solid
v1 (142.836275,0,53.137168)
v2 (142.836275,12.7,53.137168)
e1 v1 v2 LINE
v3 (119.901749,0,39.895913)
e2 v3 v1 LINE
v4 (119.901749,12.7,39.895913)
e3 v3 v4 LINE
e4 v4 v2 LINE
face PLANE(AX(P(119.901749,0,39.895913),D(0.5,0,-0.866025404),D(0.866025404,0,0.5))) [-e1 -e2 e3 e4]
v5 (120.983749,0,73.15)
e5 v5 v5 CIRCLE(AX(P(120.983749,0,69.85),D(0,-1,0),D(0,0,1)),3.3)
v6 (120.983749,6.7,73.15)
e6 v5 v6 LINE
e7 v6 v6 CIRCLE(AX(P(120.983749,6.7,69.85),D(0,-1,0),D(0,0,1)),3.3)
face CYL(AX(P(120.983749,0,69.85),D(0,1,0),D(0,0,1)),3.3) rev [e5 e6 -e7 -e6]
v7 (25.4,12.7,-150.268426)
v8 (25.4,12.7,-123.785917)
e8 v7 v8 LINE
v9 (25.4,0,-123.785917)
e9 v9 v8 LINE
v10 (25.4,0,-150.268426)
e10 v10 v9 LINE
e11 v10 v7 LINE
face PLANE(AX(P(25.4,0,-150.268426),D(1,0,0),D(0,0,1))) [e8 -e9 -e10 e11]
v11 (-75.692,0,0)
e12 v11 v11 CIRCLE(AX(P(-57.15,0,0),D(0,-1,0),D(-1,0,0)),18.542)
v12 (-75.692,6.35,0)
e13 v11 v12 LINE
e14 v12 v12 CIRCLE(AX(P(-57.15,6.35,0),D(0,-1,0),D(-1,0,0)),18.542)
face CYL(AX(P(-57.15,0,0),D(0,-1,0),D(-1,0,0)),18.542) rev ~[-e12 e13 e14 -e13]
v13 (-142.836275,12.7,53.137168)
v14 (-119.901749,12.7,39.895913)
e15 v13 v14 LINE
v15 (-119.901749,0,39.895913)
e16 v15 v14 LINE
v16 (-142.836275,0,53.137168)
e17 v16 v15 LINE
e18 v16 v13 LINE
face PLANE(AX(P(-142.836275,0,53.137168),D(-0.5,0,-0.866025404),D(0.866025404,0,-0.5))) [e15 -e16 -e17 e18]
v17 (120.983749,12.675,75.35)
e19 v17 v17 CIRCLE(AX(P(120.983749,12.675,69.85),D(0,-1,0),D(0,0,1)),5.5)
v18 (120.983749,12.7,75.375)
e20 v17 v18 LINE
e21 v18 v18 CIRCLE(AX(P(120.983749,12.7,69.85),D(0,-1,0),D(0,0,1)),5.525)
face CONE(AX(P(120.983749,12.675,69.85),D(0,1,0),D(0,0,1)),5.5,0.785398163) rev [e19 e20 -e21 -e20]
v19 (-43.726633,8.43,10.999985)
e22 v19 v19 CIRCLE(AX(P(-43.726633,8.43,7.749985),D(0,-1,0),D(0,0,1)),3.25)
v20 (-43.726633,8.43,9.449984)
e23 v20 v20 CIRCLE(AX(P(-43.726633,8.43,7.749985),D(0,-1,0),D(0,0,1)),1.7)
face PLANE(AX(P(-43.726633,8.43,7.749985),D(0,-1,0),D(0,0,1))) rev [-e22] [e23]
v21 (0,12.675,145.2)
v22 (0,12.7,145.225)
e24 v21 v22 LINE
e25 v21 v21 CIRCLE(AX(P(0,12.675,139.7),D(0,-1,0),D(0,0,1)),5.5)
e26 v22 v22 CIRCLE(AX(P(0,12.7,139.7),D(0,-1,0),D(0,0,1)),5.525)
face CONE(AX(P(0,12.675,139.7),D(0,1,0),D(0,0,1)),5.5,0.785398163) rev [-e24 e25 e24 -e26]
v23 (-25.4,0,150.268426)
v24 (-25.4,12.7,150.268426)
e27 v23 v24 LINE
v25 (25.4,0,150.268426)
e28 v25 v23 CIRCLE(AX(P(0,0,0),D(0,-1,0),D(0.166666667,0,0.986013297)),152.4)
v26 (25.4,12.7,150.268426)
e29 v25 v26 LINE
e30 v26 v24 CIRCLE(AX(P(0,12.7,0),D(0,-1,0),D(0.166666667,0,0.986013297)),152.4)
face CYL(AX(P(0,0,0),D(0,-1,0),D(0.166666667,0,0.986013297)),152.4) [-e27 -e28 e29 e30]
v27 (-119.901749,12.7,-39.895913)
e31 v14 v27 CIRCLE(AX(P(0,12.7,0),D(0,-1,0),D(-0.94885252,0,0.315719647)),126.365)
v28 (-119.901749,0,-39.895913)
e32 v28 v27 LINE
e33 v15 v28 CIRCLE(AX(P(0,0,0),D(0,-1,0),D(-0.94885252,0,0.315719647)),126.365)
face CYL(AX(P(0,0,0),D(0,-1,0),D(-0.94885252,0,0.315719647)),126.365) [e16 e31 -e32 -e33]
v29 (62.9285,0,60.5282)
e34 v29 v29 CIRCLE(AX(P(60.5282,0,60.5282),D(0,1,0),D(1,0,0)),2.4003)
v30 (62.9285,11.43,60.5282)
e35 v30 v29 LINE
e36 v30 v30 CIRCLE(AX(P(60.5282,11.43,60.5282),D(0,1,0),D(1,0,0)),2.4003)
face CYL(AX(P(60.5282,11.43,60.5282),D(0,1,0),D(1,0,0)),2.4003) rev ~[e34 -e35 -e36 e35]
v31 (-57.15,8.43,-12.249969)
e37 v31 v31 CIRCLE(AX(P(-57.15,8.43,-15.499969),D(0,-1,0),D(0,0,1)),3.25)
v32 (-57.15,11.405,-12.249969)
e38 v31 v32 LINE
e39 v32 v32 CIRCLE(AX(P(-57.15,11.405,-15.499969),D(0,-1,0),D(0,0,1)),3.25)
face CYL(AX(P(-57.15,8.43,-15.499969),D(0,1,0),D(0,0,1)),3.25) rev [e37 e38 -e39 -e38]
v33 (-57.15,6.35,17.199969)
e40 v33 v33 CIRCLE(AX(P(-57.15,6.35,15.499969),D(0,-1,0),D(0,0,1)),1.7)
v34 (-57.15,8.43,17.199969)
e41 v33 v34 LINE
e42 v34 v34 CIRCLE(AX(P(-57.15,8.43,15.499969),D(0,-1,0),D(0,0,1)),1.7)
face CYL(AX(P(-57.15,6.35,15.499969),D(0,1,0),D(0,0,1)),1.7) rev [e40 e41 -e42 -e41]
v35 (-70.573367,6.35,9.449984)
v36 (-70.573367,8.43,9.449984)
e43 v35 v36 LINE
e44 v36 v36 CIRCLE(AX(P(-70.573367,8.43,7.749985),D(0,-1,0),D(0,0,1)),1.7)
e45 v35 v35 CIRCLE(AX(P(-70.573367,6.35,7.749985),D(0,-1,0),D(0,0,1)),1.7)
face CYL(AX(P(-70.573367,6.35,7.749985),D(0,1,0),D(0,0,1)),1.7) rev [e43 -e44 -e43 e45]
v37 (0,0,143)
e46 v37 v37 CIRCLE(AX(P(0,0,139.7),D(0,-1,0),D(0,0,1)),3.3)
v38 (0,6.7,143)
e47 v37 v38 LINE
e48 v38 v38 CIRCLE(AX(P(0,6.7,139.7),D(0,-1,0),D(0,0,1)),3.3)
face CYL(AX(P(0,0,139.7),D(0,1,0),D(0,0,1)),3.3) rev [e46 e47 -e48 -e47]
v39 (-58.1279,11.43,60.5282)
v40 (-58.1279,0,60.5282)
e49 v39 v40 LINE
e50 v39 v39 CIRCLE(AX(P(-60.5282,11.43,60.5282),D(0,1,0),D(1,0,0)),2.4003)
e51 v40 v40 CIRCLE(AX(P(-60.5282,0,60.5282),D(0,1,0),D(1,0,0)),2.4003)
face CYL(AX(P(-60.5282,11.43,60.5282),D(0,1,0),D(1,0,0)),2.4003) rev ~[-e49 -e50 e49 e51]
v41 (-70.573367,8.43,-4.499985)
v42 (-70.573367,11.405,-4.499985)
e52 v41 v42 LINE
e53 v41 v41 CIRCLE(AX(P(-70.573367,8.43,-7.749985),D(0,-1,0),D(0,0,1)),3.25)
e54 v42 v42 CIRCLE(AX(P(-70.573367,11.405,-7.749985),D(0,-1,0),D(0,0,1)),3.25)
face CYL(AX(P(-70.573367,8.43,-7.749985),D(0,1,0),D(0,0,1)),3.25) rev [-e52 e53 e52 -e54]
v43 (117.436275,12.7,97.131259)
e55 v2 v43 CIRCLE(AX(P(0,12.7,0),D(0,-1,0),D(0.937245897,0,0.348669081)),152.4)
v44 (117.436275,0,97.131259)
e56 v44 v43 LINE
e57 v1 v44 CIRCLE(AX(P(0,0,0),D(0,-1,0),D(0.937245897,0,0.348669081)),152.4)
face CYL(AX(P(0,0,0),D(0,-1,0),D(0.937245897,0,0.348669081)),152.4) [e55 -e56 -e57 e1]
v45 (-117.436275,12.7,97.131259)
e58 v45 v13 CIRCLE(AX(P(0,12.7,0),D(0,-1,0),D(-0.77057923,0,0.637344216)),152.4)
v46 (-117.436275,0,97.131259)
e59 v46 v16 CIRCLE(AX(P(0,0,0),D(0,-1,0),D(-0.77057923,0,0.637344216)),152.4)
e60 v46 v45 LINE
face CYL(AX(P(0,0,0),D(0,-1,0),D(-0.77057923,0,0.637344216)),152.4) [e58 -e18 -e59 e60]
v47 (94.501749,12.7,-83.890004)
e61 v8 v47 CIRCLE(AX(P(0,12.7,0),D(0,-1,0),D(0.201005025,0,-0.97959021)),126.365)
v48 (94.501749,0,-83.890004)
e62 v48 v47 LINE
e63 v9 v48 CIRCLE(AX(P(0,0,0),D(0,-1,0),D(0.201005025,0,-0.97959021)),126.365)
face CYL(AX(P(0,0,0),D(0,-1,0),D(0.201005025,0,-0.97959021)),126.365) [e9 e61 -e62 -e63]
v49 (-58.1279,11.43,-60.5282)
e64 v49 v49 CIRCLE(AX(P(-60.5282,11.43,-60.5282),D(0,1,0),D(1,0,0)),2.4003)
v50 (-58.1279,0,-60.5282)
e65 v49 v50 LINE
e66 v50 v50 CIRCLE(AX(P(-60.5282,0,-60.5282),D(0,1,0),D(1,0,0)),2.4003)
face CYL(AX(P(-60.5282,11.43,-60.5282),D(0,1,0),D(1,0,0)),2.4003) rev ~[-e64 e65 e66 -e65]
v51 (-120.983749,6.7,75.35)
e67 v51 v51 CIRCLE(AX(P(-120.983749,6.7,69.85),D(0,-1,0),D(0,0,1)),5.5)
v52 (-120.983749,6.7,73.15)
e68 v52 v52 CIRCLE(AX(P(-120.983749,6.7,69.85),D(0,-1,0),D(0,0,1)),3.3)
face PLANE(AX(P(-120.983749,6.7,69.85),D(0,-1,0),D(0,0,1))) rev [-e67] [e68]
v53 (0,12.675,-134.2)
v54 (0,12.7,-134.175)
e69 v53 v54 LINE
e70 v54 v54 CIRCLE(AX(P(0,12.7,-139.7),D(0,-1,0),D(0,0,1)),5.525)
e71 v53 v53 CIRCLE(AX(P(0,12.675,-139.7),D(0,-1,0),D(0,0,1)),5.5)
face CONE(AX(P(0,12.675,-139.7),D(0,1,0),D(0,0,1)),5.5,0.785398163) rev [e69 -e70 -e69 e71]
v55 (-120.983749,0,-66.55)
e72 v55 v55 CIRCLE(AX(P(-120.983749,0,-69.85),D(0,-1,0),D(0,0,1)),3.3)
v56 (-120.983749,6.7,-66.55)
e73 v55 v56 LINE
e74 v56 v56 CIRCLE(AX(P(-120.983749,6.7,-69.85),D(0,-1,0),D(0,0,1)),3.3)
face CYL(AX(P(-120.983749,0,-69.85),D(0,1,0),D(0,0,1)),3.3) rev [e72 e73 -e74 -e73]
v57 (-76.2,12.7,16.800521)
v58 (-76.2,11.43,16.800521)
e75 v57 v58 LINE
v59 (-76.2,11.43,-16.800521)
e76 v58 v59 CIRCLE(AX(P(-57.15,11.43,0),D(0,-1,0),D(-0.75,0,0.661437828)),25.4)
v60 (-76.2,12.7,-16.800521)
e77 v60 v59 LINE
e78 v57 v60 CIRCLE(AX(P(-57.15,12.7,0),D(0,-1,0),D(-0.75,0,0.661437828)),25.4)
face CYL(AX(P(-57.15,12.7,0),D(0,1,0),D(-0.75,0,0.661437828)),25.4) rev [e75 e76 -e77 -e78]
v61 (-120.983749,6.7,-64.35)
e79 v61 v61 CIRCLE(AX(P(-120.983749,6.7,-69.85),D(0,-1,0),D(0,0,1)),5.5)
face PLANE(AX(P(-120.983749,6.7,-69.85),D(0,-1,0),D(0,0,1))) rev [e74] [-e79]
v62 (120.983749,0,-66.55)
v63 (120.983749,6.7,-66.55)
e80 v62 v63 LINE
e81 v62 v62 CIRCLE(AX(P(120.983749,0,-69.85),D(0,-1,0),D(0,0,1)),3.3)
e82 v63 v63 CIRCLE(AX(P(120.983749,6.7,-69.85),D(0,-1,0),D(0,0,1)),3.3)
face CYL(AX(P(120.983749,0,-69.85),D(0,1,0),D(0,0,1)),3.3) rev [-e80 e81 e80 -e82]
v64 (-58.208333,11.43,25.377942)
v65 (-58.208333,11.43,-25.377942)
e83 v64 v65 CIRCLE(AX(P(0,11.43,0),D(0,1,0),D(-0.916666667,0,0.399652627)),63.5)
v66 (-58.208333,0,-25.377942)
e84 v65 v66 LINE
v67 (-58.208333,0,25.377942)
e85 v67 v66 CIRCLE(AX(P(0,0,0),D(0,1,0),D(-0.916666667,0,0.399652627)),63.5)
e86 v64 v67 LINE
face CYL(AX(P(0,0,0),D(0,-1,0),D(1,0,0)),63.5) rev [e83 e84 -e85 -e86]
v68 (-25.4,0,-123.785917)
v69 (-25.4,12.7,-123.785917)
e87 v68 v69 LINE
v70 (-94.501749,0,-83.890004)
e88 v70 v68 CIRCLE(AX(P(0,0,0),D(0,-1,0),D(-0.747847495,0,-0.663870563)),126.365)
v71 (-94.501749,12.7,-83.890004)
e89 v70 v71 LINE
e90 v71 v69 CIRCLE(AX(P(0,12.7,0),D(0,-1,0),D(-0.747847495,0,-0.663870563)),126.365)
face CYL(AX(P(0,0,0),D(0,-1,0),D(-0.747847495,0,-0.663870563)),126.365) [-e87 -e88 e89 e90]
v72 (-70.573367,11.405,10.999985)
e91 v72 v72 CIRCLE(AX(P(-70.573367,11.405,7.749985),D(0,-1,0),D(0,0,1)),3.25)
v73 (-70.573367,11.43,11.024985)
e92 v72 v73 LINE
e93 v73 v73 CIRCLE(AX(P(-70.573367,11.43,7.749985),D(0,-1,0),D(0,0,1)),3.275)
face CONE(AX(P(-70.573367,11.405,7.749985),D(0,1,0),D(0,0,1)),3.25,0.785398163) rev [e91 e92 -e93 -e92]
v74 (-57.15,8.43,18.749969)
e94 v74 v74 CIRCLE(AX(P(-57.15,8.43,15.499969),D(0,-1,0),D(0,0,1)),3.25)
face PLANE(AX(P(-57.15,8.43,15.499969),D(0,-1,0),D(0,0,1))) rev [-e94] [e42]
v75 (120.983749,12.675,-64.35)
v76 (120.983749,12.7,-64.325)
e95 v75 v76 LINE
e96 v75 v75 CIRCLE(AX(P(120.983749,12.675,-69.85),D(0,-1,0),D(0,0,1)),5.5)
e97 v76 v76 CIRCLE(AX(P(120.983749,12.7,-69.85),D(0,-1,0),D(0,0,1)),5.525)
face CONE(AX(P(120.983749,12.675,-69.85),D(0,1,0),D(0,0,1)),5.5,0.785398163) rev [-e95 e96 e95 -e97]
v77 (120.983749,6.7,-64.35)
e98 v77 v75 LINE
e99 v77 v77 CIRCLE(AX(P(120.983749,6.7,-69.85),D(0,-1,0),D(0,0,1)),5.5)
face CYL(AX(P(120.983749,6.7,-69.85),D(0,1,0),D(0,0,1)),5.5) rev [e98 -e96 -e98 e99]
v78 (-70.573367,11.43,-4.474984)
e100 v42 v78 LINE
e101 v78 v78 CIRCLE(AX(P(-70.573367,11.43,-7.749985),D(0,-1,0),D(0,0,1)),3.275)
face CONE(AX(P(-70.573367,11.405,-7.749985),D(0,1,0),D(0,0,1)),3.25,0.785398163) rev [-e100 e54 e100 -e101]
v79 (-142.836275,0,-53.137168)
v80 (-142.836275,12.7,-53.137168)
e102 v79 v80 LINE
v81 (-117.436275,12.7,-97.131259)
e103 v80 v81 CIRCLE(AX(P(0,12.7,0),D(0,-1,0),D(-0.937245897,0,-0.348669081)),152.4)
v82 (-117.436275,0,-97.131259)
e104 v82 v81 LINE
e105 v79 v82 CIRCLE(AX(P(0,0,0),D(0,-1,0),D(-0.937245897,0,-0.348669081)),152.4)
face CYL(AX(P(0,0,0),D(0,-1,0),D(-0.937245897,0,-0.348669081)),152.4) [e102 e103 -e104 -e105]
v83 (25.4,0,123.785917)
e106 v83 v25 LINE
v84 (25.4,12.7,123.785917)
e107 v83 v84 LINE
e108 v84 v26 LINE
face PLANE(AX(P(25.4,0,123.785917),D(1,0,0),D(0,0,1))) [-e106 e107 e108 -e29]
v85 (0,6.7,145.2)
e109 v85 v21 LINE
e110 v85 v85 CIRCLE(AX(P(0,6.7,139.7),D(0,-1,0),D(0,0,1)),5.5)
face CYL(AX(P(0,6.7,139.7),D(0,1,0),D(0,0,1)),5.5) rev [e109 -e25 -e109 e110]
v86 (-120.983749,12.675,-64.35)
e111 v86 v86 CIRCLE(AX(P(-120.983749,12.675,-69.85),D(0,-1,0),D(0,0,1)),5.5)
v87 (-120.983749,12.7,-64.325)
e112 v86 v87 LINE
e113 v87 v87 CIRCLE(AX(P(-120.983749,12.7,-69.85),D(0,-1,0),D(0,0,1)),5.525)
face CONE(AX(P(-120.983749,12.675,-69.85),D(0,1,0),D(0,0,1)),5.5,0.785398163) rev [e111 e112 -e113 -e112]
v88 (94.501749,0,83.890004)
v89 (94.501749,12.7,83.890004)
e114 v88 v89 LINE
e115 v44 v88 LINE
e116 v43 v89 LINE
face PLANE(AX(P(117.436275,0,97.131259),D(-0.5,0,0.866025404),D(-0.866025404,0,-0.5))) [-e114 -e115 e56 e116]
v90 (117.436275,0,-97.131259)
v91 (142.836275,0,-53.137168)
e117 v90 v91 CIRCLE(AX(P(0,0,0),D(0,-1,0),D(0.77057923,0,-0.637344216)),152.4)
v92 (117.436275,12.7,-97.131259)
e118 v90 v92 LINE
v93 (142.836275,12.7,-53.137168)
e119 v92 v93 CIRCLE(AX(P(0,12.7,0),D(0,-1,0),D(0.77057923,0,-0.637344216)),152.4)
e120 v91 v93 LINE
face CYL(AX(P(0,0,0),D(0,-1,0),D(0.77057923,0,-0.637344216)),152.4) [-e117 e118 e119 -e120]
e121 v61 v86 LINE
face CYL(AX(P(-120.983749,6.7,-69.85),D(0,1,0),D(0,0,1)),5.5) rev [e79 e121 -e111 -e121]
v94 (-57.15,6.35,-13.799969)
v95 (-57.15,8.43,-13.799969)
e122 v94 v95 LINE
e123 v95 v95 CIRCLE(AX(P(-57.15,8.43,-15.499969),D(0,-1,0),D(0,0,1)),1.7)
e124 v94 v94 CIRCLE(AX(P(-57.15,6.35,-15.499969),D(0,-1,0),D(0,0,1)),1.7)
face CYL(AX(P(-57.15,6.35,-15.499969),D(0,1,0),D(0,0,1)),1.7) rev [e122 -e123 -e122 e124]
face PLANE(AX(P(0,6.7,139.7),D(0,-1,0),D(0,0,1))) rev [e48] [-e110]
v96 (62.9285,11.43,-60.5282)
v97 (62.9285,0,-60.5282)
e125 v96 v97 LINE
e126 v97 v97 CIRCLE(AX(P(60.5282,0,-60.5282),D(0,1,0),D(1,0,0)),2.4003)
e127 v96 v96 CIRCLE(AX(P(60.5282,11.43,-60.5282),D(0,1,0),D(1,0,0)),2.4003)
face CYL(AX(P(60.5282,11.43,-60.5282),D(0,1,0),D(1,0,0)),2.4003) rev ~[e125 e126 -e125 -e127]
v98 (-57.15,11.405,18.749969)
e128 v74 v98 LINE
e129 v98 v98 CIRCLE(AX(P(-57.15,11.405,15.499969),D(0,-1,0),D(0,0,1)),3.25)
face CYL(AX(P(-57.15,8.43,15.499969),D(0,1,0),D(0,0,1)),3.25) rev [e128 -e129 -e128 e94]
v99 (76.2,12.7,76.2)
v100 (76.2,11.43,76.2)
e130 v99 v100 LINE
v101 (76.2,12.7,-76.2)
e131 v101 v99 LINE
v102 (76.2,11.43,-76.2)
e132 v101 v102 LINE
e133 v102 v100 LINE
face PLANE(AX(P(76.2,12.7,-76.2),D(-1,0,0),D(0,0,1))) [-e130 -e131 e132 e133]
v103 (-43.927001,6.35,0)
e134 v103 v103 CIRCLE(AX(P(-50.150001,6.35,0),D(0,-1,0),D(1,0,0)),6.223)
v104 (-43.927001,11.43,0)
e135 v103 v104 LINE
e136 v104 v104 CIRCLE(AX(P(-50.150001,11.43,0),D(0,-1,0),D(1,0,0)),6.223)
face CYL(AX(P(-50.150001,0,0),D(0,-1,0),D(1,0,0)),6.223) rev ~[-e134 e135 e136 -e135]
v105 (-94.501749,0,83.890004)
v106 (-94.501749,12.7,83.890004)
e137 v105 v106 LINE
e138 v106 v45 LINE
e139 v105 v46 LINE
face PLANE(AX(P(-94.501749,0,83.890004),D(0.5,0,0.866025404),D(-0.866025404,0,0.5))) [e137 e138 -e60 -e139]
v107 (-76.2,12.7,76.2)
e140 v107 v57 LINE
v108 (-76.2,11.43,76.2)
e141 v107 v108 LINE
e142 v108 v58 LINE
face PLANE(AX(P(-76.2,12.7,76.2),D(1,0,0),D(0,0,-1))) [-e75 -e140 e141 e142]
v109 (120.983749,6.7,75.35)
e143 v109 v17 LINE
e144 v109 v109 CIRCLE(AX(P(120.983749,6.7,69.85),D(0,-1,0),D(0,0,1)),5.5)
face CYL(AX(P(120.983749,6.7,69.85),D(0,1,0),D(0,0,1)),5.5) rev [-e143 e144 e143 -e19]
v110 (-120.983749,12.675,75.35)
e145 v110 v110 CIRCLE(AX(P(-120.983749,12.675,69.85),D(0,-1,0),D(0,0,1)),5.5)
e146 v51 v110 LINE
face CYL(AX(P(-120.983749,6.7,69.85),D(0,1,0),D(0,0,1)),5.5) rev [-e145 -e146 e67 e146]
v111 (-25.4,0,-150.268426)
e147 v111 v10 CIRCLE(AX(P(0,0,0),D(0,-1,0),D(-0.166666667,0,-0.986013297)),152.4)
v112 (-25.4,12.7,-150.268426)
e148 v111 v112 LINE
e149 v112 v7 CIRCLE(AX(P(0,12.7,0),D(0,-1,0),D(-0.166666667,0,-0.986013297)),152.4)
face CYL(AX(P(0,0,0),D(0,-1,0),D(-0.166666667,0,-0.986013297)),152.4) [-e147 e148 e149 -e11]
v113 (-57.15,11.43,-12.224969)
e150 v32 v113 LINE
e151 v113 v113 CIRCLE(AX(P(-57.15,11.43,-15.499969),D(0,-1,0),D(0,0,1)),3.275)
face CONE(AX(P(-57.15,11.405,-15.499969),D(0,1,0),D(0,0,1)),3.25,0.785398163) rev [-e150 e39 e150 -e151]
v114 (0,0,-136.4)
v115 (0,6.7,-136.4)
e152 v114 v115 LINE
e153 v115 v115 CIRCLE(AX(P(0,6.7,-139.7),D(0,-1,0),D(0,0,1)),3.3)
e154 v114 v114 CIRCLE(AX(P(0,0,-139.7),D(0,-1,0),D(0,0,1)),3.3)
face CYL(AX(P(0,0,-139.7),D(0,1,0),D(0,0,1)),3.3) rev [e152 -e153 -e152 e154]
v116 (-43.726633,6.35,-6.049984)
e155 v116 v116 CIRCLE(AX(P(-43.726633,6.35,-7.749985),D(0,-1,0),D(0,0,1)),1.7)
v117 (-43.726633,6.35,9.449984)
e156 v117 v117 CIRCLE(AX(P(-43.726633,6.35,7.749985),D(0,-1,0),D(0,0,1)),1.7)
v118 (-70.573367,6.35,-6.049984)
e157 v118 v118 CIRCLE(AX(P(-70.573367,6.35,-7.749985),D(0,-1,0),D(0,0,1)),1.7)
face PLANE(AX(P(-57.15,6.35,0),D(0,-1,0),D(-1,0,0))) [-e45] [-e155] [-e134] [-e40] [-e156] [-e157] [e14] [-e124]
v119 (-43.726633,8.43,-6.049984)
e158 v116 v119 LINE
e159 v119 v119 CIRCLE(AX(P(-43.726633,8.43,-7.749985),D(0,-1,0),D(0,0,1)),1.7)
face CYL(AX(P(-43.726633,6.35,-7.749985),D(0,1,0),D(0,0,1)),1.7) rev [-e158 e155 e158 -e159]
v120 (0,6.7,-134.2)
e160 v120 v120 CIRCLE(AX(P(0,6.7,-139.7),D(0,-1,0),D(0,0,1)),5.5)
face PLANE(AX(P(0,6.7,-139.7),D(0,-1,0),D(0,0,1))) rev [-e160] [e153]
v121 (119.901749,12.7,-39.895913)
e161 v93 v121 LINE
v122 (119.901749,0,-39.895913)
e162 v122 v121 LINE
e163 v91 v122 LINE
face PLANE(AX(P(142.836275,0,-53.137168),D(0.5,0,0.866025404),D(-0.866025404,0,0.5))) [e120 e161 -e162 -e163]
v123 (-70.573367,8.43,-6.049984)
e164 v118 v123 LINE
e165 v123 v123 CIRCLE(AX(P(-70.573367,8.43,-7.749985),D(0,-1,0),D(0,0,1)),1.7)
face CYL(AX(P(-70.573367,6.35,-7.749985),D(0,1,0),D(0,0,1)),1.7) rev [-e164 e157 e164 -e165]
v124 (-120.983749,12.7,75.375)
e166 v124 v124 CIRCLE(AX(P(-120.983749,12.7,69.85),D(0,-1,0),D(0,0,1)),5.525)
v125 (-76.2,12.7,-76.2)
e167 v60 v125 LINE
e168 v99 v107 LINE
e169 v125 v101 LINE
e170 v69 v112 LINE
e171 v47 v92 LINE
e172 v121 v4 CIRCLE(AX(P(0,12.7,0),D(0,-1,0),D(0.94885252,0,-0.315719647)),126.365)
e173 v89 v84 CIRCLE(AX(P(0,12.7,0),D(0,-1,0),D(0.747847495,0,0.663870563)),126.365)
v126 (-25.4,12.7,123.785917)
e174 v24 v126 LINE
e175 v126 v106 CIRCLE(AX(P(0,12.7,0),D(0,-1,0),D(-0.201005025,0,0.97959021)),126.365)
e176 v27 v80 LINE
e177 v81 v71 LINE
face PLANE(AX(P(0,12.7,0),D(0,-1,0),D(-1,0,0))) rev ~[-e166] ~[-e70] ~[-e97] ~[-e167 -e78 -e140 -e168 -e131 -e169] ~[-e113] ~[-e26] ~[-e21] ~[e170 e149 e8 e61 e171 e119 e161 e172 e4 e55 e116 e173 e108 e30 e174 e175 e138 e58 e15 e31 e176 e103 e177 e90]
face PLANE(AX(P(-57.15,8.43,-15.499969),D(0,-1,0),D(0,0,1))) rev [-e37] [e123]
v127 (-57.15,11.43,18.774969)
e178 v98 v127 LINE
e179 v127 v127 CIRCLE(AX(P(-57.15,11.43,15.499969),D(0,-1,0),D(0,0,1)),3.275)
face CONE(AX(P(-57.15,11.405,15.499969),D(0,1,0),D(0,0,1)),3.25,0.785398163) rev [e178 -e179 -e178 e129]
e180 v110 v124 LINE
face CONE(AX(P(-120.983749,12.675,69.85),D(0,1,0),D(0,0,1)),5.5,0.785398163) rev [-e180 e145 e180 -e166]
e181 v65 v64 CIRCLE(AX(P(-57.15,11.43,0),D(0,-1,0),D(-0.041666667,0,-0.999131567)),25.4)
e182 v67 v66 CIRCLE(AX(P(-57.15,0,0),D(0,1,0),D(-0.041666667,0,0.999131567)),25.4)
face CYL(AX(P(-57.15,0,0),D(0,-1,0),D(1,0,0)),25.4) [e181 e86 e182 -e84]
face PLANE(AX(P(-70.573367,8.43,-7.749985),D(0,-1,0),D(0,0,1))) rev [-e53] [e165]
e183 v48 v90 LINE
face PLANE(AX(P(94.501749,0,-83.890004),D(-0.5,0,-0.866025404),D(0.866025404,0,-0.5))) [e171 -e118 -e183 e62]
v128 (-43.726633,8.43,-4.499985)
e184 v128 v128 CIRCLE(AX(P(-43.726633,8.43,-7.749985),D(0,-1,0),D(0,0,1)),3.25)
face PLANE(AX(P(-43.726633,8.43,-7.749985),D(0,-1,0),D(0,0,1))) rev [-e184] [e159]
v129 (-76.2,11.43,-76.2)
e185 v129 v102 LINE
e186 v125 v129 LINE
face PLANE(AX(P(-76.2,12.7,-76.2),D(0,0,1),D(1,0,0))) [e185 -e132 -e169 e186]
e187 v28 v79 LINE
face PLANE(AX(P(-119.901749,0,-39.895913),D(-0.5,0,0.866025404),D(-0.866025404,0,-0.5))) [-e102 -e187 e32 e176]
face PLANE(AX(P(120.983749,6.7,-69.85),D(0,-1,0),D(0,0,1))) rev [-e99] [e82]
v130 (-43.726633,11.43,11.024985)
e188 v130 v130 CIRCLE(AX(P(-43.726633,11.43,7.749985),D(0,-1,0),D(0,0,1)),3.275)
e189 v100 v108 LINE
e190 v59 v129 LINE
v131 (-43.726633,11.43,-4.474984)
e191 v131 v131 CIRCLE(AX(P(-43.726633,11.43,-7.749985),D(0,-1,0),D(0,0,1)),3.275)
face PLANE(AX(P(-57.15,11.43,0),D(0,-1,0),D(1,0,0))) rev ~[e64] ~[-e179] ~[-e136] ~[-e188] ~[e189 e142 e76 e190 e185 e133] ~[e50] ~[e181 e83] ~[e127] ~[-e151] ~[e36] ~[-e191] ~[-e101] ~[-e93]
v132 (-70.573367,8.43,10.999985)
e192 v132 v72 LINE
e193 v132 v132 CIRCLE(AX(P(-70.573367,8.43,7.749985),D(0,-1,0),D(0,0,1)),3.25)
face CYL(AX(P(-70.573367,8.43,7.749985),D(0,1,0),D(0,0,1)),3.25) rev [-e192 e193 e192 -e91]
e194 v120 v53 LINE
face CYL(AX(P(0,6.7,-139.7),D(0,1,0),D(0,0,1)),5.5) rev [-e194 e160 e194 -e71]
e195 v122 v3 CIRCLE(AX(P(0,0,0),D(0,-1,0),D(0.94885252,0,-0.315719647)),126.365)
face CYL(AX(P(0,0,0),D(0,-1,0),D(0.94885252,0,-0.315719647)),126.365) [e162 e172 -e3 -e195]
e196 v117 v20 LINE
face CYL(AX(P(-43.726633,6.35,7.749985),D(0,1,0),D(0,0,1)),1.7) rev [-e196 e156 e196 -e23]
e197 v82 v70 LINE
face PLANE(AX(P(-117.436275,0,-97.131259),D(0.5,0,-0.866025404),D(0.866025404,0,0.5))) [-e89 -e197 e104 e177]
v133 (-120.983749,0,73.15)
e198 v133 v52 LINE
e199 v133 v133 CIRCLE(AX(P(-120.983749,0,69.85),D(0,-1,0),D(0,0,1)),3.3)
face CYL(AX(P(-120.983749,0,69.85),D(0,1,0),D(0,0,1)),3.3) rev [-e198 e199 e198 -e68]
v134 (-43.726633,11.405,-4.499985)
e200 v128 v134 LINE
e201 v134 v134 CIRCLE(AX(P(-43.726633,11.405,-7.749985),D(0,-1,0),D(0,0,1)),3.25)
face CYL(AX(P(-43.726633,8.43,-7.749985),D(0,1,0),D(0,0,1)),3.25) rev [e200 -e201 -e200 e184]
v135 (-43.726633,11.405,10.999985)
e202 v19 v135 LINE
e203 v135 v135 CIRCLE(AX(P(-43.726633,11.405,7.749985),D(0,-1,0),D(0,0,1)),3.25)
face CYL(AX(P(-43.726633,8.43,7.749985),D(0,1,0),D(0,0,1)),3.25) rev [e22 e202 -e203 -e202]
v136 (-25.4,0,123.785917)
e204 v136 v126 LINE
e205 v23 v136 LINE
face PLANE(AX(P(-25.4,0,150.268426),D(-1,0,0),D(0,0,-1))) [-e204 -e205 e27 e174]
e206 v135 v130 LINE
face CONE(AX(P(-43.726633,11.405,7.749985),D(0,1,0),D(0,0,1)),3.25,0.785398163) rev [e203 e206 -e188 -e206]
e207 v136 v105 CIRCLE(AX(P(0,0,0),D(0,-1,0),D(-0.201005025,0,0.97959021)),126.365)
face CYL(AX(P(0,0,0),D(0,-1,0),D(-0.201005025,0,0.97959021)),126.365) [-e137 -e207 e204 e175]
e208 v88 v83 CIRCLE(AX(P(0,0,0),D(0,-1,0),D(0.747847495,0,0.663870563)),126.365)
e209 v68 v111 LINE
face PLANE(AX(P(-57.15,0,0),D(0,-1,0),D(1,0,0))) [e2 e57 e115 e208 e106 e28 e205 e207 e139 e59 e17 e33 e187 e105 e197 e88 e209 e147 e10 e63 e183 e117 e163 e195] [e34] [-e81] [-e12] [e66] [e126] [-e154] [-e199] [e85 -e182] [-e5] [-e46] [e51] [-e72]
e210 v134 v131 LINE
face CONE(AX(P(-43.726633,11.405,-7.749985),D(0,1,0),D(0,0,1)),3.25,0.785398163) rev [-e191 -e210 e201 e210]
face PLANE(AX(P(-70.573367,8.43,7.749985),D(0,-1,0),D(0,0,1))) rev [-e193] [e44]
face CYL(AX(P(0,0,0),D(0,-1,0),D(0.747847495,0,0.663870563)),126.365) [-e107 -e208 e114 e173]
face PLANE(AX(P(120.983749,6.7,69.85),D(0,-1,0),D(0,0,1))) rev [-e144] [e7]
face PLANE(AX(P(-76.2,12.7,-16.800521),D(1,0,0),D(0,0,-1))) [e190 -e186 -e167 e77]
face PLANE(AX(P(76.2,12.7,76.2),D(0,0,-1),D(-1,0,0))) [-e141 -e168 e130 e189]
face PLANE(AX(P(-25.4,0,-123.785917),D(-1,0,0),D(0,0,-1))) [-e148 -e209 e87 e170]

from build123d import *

# Parameters (mm, degrees)
BOSS_EXTRUDE1_DEPTH           = 12.7
SKETCH2_R                     = 63.5
CUT_EXTRUDE2_DEPTH            = 12.7
CUT_EXTRUDE3_DEPTH            = 1.27
SKETCH4_R                     = 2.4003
CUT_EXTRUDE4_DEPTH            = 2.27
CUT_EXTRUDE4_DEPTH_BACK       = 12.43
CBORE_FOR_M6_SHCS2_AT_2_COUNT = 2
CBORE_FOR_M6_SHCS2_AT_2_PITCH = 139.7
CBORE_FOR_M6_SHCS2_AT_3_COUNT = 2
CBORE_FOR_M6_SHCS2_AT_3_PITCH = 139.7
CBORE_FOR_M6_SHCS2_AT_4_COUNT = 2
CBORE_FOR_M6_SHCS2_AT_4_PITCH = 139.7
CBORE_FOR_M6_SHCS2_AT_5_COUNT = 2
CBORE_FOR_M6_SHCS2_AT_5_PITCH = 139.7
CBORE_FOR_M6_SHCS2_AT_6_COUNT = 2
CBORE_FOR_M6_SHCS2_AT_6_PITCH = 139.7
CBORE_FOR_M6_SHCS2_AT_7_COUNT = 2
CBORE_FOR_M6_SHCS2_AT_7_PITCH = 139.7
SKETCH7_R                     = 25.4
BOSS_EXTRUDE2_DEPTH           = 11.43
SKETCH8_R                     = 18.542
CUT_EXTRUDE5_DEPTH            = 6.35
CBORE_FOR_M3_SHCS1_AT_2_COUNT = 2
CBORE_FOR_M3_SHCS1_AT_2_PITCH = 15.499969
CBORE_FOR_M3_SHCS1_AT_3_COUNT = 2
CBORE_FOR_M3_SHCS1_AT_3_PITCH = 26.846733824
CBORE_FOR_M3_SHCS1_AT_4_COUNT = 2
CBORE_FOR_M3_SHCS1_AT_4_PITCH = 30.999938
CBORE_FOR_M3_SHCS1_AT_5_COUNT = 2
CBORE_FOR_M3_SHCS1_AT_5_PITCH = 26.846733824
CBORE_FOR_M3_SHCS1_AT_6_COUNT = 2
CBORE_FOR_M3_SHCS1_AT_6_PITCH = 15.499969
SKETCH11_R                    = 6.223
CUT_EXTRUDE6_DEPTH            = 11.43


with BuildPart() as part:
    # Sketch1 → Boss-Extrude1 (new body)
    with BuildSketch(Plane(origin=(0, 0, 0), x_dir=(1, 0, 0), z_dir=(0, 1, 0))):
        with BuildLine():
            Line((-25.4, 123.785916909), (-25.4, 150.268426491))
            ThreePointArc((-25.4, 150.268426491), (0, 152.4), (25.4, 150.268426491))
            Line((25.4, 150.268426491), (25.4, 123.785916909))
            ThreePointArc((25.4, 123.785916909), (63.1825, 109.435300149), (94.501748674, 83.890003711))
            Line((94.501748674, 83.890003711), (117.436274728, 97.131258501))
            ThreePointArc((117.436274728, 97.131258501), (131.982271537, 76.2), (142.836274728, 53.137167989))
            Line((142.836274728, 53.137167989), (119.901748674, 39.895913198))
            ThreePointArc((119.901748674, 39.895913198), (126.365, 0), (119.901748674, -39.895913198))
            Line((119.901748674, -39.895913198), (142.836274728, -53.137167989))
            ThreePointArc((142.836274728, -53.137167989), (131.982271537, -76.2), (117.436274728, -97.131258501))
            Line((117.436274728, -97.131258501), (94.501748674, -83.890003711))
            ThreePointArc((94.501748674, -83.890003711), (63.1825, -109.435300149), (25.4, -123.785916909))
            Line((25.4, -123.785916909), (25.4, -150.268426491))
            ThreePointArc((25.4, -150.268426491), (0, -152.4), (-25.4, -150.268426491))
            Line((-25.4, -150.268426491), (-25.4, -123.785916909))
            ThreePointArc((-25.4, -123.785916909), (-63.1825, -109.435300149), (-94.501748674, -83.890003711))
            Line((-94.501748674, -83.890003711), (-117.436274728, -97.131258501))
            ThreePointArc((-117.436274728, -97.131258501), (-131.982271537, -76.2), (-142.836274728, -53.137167989))
            Line((-142.836274728, -53.137167989), (-119.901748674, -39.895913198))
            ThreePointArc((-119.901748674, -39.895913198), (-126.365, 0), (-119.901748674, 39.895913198))
            Line((-119.901748674, 39.895913198), (-142.836274728, 53.137167989))
            ThreePointArc((-142.836274728, 53.137167989), (-131.982271537, 76.2), (-117.436274728, 97.131258501))
            Line((-117.436274728, 97.131258501), (-94.501748674, 83.890003711))
            ThreePointArc((-94.501748674, 83.890003711), (-63.1825, 109.435300149), (-25.4, 123.785916909))
        make_face()
    extrude(amount=BOSS_EXTRUDE1_DEPTH)

    # Sketch2 → Cut-Extrude2 (cut)
    with BuildSketch(Plane(origin=(0, 0, 0), x_dir=(1, 0, 0), z_dir=(0, 1, 0))):
        Circle(SKETCH2_R)
    extrude(amount=CUT_EXTRUDE2_DEPTH, mode=Mode.SUBTRACT)

    # Sketch3 → Cut-Extrude3 (cut)
    with BuildSketch(Plane(origin=(0, 12.7, 0), x_dir=(1, 0, 0), z_dir=(0, 1, 0))):
        with BuildLine():
            Line((-76.2, 16.800520825), (-76.2, 76.2))
            Line((-76.2, 76.2), (76.2, 76.2))
            Line((76.2, 76.2), (76.2, -76.2))
            Line((76.2, -76.2), (-76.2, -76.2))
            Line((-76.2, -76.2), (-76.2, -16.800520825))
            ThreePointArc((-76.2, -16.800520825), (-82.55, 0), (-76.2, 16.800520825))
        make_face()
    extrude(amount=-CUT_EXTRUDE3_DEPTH, mode=Mode.SUBTRACT)

    # Sketch4 → Cut-Extrude4 (cut, two sides)
    with BuildSketch(Plane(origin=(0, 11.43, 0), x_dir=(1, 0, 0), z_dir=(0, 1, 0))) as cut_extrude4_sk:
        with Locations((-60.5282, 60.5282)):
            Circle(SKETCH4_R)
        with Locations((-60.5282, -60.5282)):
            Circle(SKETCH4_R)
        with Locations((60.5282, -60.5282)):
            Circle(SKETCH4_R)
        with Locations((60.5282, 60.5282)):
            Circle(SKETCH4_R)
    extrude(amount=CUT_EXTRUDE4_DEPTH, mode=Mode.SUBTRACT)
    extrude(cut_extrude4_sk.sketch, amount=-CUT_EXTRUDE4_DEPTH_BACK, mode=Mode.SUBTRACT)

    # Sketch6 → CBORE for M6 SHCS2 (revolve, cut)
    with BuildSketch(Plane(origin=(0, 12.7, 0), x_dir=(0, 0, 1), z_dir=(1, 0, 0))):
        Polygon((0, 0), (0, 12.7), (3.3, 12.7), (3.3, 6), (5.5, 6), (5.5, 0.025), (5.525, 0), align=None)
    cbore_for_m6_shcs2 = revolve(axis=Axis((0, 19.05, 0), (0, -1, 0)), mode=Mode.SUBTRACT)

    # CBORE for M6 SHCS2 at 2: CBORE for M6 SHCS2 ×2
    with Locations(*[(0, 0, -i * CBORE_FOR_M6_SHCS2_AT_2_PITCH) for i in range(1, CBORE_FOR_M6_SHCS2_AT_2_COUNT)]):
        add(cbore_for_m6_shcs2, mode=Mode.SUBTRACT)

    # CBORE for M6 SHCS2 at 3: CBORE for M6 SHCS2 ×2
    with Locations(*[Vector(0.866025404, 0, -0.5) * (i * CBORE_FOR_M6_SHCS2_AT_3_PITCH) for i in range(1, CBORE_FOR_M6_SHCS2_AT_3_COUNT)]):
        add(cbore_for_m6_shcs2, mode=Mode.SUBTRACT)

    # CBORE for M6 SHCS2 at 4: CBORE for M6 SHCS2 ×2
    with Locations(*[Vector(0.866025404, 0, 0.5) * (i * CBORE_FOR_M6_SHCS2_AT_4_PITCH) for i in range(1, CBORE_FOR_M6_SHCS2_AT_4_COUNT)]):
        add(cbore_for_m6_shcs2, mode=Mode.SUBTRACT)

    # CBORE for M6 SHCS2 at 5: CBORE for M6 SHCS2 ×2
    with Locations(*[(0, 0, i * CBORE_FOR_M6_SHCS2_AT_5_PITCH) for i in range(1, CBORE_FOR_M6_SHCS2_AT_5_COUNT)]):
        add(cbore_for_m6_shcs2, mode=Mode.SUBTRACT)

    # CBORE for M6 SHCS2 at 6: CBORE for M6 SHCS2 ×2
    with Locations(*[Vector(-0.866025404, 0, 0.5) * (i * CBORE_FOR_M6_SHCS2_AT_6_PITCH) for i in range(1, CBORE_FOR_M6_SHCS2_AT_6_COUNT)]):
        add(cbore_for_m6_shcs2, mode=Mode.SUBTRACT)

    # CBORE for M6 SHCS2 at 7: CBORE for M6 SHCS2 ×2
    with Locations(*[Vector(-0.866025404, 0, -0.5) * (i * CBORE_FOR_M6_SHCS2_AT_7_PITCH) for i in range(1, CBORE_FOR_M6_SHCS2_AT_7_COUNT)]):
        add(cbore_for_m6_shcs2, mode=Mode.SUBTRACT)

    # Sketch7 → Boss-Extrude2 (add)
    with BuildSketch(Plane.XZ):
        with Locations((-57.15, 0)):
            Circle(SKETCH7_R)
    extrude(amount=-BOSS_EXTRUDE2_DEPTH)

    # Sketch8 → Cut-Extrude5 (cut)
    with BuildSketch(Plane(origin=(0, 0, 0), x_dir=(-1, 0, 0), z_dir=(0, -1, 0))):
        with Locations((57.15, 0)):
            Circle(SKETCH8_R)
    extrude(amount=-CUT_EXTRUDE5_DEPTH, mode=Mode.SUBTRACT)

    # Sketch10 → CBORE for M3 SHCS1 (revolve, cut)
    with BuildSketch(Plane(origin=(-70.573366912, 11.43, 7.7499845), x_dir=(0, 0, 1), z_dir=(1, 0, 0))):
        Polygon((0, 0), (0, 6.101463052), (1.7, 5.08), (1.7, 3), (3.25, 3), (3.25, 0.025), (3.275, 0), align=None)
    cbore_for_m3_shcs1 = revolve(axis=Axis((-70.573366912, 17.78, 7.7499845), (0, -1, 0)), mode=Mode.SUBTRACT)

    # CBORE for M3 SHCS1 at 2: CBORE for M3 SHCS1 ×2
    with Locations(*[Vector(0.866025404, 0, 0.5) * (i * CBORE_FOR_M3_SHCS1_AT_2_PITCH) for i in range(1, CBORE_FOR_M3_SHCS1_AT_2_COUNT)]):
        add(cbore_for_m3_shcs1, mode=Mode.SUBTRACT)

    # CBORE for M3 SHCS1 at 3: CBORE for M3 SHCS1 ×2
    with Locations(*[(i * CBORE_FOR_M3_SHCS1_AT_3_PITCH, 0, 0) for i in range(1, CBORE_FOR_M3_SHCS1_AT_3_COUNT)]):
        add(cbore_for_m3_shcs1, mode=Mode.SUBTRACT)

    # CBORE for M3 SHCS1 at 4: CBORE for M3 SHCS1 ×2
    with Locations(*[Vector(0.866025404, 0, -0.5) * (i * CBORE_FOR_M3_SHCS1_AT_4_PITCH) for i in range(1, CBORE_FOR_M3_SHCS1_AT_4_COUNT)]):
        add(cbore_for_m3_shcs1, mode=Mode.SUBTRACT)

    # CBORE for M3 SHCS1 at 5: CBORE for M3 SHCS1 ×2
    with Locations(*[Vector(0.5, 0, -0.866025404) * (i * CBORE_FOR_M3_SHCS1_AT_5_PITCH) for i in range(1, CBORE_FOR_M3_SHCS1_AT_5_COUNT)]):
        add(cbore_for_m3_shcs1, mode=Mode.SUBTRACT)

    # CBORE for M3 SHCS1 at 6: CBORE for M3 SHCS1 ×2
    with Locations(*[(0, 0, -i * CBORE_FOR_M3_SHCS1_AT_6_PITCH) for i in range(1, CBORE_FOR_M3_SHCS1_AT_6_COUNT)]):
        add(cbore_for_m3_shcs1, mode=Mode.SUBTRACT)

    # Sketch11 → Cut-Extrude6 (cut)
    with BuildSketch(Plane.XZ):
        with Locations((-50.1500013, 0)):
            Circle(SKETCH11_R)
    extrude(amount=-CUT_EXTRUDE6_DEPTH, mode=Mode.SUBTRACT)


solid = part.part
